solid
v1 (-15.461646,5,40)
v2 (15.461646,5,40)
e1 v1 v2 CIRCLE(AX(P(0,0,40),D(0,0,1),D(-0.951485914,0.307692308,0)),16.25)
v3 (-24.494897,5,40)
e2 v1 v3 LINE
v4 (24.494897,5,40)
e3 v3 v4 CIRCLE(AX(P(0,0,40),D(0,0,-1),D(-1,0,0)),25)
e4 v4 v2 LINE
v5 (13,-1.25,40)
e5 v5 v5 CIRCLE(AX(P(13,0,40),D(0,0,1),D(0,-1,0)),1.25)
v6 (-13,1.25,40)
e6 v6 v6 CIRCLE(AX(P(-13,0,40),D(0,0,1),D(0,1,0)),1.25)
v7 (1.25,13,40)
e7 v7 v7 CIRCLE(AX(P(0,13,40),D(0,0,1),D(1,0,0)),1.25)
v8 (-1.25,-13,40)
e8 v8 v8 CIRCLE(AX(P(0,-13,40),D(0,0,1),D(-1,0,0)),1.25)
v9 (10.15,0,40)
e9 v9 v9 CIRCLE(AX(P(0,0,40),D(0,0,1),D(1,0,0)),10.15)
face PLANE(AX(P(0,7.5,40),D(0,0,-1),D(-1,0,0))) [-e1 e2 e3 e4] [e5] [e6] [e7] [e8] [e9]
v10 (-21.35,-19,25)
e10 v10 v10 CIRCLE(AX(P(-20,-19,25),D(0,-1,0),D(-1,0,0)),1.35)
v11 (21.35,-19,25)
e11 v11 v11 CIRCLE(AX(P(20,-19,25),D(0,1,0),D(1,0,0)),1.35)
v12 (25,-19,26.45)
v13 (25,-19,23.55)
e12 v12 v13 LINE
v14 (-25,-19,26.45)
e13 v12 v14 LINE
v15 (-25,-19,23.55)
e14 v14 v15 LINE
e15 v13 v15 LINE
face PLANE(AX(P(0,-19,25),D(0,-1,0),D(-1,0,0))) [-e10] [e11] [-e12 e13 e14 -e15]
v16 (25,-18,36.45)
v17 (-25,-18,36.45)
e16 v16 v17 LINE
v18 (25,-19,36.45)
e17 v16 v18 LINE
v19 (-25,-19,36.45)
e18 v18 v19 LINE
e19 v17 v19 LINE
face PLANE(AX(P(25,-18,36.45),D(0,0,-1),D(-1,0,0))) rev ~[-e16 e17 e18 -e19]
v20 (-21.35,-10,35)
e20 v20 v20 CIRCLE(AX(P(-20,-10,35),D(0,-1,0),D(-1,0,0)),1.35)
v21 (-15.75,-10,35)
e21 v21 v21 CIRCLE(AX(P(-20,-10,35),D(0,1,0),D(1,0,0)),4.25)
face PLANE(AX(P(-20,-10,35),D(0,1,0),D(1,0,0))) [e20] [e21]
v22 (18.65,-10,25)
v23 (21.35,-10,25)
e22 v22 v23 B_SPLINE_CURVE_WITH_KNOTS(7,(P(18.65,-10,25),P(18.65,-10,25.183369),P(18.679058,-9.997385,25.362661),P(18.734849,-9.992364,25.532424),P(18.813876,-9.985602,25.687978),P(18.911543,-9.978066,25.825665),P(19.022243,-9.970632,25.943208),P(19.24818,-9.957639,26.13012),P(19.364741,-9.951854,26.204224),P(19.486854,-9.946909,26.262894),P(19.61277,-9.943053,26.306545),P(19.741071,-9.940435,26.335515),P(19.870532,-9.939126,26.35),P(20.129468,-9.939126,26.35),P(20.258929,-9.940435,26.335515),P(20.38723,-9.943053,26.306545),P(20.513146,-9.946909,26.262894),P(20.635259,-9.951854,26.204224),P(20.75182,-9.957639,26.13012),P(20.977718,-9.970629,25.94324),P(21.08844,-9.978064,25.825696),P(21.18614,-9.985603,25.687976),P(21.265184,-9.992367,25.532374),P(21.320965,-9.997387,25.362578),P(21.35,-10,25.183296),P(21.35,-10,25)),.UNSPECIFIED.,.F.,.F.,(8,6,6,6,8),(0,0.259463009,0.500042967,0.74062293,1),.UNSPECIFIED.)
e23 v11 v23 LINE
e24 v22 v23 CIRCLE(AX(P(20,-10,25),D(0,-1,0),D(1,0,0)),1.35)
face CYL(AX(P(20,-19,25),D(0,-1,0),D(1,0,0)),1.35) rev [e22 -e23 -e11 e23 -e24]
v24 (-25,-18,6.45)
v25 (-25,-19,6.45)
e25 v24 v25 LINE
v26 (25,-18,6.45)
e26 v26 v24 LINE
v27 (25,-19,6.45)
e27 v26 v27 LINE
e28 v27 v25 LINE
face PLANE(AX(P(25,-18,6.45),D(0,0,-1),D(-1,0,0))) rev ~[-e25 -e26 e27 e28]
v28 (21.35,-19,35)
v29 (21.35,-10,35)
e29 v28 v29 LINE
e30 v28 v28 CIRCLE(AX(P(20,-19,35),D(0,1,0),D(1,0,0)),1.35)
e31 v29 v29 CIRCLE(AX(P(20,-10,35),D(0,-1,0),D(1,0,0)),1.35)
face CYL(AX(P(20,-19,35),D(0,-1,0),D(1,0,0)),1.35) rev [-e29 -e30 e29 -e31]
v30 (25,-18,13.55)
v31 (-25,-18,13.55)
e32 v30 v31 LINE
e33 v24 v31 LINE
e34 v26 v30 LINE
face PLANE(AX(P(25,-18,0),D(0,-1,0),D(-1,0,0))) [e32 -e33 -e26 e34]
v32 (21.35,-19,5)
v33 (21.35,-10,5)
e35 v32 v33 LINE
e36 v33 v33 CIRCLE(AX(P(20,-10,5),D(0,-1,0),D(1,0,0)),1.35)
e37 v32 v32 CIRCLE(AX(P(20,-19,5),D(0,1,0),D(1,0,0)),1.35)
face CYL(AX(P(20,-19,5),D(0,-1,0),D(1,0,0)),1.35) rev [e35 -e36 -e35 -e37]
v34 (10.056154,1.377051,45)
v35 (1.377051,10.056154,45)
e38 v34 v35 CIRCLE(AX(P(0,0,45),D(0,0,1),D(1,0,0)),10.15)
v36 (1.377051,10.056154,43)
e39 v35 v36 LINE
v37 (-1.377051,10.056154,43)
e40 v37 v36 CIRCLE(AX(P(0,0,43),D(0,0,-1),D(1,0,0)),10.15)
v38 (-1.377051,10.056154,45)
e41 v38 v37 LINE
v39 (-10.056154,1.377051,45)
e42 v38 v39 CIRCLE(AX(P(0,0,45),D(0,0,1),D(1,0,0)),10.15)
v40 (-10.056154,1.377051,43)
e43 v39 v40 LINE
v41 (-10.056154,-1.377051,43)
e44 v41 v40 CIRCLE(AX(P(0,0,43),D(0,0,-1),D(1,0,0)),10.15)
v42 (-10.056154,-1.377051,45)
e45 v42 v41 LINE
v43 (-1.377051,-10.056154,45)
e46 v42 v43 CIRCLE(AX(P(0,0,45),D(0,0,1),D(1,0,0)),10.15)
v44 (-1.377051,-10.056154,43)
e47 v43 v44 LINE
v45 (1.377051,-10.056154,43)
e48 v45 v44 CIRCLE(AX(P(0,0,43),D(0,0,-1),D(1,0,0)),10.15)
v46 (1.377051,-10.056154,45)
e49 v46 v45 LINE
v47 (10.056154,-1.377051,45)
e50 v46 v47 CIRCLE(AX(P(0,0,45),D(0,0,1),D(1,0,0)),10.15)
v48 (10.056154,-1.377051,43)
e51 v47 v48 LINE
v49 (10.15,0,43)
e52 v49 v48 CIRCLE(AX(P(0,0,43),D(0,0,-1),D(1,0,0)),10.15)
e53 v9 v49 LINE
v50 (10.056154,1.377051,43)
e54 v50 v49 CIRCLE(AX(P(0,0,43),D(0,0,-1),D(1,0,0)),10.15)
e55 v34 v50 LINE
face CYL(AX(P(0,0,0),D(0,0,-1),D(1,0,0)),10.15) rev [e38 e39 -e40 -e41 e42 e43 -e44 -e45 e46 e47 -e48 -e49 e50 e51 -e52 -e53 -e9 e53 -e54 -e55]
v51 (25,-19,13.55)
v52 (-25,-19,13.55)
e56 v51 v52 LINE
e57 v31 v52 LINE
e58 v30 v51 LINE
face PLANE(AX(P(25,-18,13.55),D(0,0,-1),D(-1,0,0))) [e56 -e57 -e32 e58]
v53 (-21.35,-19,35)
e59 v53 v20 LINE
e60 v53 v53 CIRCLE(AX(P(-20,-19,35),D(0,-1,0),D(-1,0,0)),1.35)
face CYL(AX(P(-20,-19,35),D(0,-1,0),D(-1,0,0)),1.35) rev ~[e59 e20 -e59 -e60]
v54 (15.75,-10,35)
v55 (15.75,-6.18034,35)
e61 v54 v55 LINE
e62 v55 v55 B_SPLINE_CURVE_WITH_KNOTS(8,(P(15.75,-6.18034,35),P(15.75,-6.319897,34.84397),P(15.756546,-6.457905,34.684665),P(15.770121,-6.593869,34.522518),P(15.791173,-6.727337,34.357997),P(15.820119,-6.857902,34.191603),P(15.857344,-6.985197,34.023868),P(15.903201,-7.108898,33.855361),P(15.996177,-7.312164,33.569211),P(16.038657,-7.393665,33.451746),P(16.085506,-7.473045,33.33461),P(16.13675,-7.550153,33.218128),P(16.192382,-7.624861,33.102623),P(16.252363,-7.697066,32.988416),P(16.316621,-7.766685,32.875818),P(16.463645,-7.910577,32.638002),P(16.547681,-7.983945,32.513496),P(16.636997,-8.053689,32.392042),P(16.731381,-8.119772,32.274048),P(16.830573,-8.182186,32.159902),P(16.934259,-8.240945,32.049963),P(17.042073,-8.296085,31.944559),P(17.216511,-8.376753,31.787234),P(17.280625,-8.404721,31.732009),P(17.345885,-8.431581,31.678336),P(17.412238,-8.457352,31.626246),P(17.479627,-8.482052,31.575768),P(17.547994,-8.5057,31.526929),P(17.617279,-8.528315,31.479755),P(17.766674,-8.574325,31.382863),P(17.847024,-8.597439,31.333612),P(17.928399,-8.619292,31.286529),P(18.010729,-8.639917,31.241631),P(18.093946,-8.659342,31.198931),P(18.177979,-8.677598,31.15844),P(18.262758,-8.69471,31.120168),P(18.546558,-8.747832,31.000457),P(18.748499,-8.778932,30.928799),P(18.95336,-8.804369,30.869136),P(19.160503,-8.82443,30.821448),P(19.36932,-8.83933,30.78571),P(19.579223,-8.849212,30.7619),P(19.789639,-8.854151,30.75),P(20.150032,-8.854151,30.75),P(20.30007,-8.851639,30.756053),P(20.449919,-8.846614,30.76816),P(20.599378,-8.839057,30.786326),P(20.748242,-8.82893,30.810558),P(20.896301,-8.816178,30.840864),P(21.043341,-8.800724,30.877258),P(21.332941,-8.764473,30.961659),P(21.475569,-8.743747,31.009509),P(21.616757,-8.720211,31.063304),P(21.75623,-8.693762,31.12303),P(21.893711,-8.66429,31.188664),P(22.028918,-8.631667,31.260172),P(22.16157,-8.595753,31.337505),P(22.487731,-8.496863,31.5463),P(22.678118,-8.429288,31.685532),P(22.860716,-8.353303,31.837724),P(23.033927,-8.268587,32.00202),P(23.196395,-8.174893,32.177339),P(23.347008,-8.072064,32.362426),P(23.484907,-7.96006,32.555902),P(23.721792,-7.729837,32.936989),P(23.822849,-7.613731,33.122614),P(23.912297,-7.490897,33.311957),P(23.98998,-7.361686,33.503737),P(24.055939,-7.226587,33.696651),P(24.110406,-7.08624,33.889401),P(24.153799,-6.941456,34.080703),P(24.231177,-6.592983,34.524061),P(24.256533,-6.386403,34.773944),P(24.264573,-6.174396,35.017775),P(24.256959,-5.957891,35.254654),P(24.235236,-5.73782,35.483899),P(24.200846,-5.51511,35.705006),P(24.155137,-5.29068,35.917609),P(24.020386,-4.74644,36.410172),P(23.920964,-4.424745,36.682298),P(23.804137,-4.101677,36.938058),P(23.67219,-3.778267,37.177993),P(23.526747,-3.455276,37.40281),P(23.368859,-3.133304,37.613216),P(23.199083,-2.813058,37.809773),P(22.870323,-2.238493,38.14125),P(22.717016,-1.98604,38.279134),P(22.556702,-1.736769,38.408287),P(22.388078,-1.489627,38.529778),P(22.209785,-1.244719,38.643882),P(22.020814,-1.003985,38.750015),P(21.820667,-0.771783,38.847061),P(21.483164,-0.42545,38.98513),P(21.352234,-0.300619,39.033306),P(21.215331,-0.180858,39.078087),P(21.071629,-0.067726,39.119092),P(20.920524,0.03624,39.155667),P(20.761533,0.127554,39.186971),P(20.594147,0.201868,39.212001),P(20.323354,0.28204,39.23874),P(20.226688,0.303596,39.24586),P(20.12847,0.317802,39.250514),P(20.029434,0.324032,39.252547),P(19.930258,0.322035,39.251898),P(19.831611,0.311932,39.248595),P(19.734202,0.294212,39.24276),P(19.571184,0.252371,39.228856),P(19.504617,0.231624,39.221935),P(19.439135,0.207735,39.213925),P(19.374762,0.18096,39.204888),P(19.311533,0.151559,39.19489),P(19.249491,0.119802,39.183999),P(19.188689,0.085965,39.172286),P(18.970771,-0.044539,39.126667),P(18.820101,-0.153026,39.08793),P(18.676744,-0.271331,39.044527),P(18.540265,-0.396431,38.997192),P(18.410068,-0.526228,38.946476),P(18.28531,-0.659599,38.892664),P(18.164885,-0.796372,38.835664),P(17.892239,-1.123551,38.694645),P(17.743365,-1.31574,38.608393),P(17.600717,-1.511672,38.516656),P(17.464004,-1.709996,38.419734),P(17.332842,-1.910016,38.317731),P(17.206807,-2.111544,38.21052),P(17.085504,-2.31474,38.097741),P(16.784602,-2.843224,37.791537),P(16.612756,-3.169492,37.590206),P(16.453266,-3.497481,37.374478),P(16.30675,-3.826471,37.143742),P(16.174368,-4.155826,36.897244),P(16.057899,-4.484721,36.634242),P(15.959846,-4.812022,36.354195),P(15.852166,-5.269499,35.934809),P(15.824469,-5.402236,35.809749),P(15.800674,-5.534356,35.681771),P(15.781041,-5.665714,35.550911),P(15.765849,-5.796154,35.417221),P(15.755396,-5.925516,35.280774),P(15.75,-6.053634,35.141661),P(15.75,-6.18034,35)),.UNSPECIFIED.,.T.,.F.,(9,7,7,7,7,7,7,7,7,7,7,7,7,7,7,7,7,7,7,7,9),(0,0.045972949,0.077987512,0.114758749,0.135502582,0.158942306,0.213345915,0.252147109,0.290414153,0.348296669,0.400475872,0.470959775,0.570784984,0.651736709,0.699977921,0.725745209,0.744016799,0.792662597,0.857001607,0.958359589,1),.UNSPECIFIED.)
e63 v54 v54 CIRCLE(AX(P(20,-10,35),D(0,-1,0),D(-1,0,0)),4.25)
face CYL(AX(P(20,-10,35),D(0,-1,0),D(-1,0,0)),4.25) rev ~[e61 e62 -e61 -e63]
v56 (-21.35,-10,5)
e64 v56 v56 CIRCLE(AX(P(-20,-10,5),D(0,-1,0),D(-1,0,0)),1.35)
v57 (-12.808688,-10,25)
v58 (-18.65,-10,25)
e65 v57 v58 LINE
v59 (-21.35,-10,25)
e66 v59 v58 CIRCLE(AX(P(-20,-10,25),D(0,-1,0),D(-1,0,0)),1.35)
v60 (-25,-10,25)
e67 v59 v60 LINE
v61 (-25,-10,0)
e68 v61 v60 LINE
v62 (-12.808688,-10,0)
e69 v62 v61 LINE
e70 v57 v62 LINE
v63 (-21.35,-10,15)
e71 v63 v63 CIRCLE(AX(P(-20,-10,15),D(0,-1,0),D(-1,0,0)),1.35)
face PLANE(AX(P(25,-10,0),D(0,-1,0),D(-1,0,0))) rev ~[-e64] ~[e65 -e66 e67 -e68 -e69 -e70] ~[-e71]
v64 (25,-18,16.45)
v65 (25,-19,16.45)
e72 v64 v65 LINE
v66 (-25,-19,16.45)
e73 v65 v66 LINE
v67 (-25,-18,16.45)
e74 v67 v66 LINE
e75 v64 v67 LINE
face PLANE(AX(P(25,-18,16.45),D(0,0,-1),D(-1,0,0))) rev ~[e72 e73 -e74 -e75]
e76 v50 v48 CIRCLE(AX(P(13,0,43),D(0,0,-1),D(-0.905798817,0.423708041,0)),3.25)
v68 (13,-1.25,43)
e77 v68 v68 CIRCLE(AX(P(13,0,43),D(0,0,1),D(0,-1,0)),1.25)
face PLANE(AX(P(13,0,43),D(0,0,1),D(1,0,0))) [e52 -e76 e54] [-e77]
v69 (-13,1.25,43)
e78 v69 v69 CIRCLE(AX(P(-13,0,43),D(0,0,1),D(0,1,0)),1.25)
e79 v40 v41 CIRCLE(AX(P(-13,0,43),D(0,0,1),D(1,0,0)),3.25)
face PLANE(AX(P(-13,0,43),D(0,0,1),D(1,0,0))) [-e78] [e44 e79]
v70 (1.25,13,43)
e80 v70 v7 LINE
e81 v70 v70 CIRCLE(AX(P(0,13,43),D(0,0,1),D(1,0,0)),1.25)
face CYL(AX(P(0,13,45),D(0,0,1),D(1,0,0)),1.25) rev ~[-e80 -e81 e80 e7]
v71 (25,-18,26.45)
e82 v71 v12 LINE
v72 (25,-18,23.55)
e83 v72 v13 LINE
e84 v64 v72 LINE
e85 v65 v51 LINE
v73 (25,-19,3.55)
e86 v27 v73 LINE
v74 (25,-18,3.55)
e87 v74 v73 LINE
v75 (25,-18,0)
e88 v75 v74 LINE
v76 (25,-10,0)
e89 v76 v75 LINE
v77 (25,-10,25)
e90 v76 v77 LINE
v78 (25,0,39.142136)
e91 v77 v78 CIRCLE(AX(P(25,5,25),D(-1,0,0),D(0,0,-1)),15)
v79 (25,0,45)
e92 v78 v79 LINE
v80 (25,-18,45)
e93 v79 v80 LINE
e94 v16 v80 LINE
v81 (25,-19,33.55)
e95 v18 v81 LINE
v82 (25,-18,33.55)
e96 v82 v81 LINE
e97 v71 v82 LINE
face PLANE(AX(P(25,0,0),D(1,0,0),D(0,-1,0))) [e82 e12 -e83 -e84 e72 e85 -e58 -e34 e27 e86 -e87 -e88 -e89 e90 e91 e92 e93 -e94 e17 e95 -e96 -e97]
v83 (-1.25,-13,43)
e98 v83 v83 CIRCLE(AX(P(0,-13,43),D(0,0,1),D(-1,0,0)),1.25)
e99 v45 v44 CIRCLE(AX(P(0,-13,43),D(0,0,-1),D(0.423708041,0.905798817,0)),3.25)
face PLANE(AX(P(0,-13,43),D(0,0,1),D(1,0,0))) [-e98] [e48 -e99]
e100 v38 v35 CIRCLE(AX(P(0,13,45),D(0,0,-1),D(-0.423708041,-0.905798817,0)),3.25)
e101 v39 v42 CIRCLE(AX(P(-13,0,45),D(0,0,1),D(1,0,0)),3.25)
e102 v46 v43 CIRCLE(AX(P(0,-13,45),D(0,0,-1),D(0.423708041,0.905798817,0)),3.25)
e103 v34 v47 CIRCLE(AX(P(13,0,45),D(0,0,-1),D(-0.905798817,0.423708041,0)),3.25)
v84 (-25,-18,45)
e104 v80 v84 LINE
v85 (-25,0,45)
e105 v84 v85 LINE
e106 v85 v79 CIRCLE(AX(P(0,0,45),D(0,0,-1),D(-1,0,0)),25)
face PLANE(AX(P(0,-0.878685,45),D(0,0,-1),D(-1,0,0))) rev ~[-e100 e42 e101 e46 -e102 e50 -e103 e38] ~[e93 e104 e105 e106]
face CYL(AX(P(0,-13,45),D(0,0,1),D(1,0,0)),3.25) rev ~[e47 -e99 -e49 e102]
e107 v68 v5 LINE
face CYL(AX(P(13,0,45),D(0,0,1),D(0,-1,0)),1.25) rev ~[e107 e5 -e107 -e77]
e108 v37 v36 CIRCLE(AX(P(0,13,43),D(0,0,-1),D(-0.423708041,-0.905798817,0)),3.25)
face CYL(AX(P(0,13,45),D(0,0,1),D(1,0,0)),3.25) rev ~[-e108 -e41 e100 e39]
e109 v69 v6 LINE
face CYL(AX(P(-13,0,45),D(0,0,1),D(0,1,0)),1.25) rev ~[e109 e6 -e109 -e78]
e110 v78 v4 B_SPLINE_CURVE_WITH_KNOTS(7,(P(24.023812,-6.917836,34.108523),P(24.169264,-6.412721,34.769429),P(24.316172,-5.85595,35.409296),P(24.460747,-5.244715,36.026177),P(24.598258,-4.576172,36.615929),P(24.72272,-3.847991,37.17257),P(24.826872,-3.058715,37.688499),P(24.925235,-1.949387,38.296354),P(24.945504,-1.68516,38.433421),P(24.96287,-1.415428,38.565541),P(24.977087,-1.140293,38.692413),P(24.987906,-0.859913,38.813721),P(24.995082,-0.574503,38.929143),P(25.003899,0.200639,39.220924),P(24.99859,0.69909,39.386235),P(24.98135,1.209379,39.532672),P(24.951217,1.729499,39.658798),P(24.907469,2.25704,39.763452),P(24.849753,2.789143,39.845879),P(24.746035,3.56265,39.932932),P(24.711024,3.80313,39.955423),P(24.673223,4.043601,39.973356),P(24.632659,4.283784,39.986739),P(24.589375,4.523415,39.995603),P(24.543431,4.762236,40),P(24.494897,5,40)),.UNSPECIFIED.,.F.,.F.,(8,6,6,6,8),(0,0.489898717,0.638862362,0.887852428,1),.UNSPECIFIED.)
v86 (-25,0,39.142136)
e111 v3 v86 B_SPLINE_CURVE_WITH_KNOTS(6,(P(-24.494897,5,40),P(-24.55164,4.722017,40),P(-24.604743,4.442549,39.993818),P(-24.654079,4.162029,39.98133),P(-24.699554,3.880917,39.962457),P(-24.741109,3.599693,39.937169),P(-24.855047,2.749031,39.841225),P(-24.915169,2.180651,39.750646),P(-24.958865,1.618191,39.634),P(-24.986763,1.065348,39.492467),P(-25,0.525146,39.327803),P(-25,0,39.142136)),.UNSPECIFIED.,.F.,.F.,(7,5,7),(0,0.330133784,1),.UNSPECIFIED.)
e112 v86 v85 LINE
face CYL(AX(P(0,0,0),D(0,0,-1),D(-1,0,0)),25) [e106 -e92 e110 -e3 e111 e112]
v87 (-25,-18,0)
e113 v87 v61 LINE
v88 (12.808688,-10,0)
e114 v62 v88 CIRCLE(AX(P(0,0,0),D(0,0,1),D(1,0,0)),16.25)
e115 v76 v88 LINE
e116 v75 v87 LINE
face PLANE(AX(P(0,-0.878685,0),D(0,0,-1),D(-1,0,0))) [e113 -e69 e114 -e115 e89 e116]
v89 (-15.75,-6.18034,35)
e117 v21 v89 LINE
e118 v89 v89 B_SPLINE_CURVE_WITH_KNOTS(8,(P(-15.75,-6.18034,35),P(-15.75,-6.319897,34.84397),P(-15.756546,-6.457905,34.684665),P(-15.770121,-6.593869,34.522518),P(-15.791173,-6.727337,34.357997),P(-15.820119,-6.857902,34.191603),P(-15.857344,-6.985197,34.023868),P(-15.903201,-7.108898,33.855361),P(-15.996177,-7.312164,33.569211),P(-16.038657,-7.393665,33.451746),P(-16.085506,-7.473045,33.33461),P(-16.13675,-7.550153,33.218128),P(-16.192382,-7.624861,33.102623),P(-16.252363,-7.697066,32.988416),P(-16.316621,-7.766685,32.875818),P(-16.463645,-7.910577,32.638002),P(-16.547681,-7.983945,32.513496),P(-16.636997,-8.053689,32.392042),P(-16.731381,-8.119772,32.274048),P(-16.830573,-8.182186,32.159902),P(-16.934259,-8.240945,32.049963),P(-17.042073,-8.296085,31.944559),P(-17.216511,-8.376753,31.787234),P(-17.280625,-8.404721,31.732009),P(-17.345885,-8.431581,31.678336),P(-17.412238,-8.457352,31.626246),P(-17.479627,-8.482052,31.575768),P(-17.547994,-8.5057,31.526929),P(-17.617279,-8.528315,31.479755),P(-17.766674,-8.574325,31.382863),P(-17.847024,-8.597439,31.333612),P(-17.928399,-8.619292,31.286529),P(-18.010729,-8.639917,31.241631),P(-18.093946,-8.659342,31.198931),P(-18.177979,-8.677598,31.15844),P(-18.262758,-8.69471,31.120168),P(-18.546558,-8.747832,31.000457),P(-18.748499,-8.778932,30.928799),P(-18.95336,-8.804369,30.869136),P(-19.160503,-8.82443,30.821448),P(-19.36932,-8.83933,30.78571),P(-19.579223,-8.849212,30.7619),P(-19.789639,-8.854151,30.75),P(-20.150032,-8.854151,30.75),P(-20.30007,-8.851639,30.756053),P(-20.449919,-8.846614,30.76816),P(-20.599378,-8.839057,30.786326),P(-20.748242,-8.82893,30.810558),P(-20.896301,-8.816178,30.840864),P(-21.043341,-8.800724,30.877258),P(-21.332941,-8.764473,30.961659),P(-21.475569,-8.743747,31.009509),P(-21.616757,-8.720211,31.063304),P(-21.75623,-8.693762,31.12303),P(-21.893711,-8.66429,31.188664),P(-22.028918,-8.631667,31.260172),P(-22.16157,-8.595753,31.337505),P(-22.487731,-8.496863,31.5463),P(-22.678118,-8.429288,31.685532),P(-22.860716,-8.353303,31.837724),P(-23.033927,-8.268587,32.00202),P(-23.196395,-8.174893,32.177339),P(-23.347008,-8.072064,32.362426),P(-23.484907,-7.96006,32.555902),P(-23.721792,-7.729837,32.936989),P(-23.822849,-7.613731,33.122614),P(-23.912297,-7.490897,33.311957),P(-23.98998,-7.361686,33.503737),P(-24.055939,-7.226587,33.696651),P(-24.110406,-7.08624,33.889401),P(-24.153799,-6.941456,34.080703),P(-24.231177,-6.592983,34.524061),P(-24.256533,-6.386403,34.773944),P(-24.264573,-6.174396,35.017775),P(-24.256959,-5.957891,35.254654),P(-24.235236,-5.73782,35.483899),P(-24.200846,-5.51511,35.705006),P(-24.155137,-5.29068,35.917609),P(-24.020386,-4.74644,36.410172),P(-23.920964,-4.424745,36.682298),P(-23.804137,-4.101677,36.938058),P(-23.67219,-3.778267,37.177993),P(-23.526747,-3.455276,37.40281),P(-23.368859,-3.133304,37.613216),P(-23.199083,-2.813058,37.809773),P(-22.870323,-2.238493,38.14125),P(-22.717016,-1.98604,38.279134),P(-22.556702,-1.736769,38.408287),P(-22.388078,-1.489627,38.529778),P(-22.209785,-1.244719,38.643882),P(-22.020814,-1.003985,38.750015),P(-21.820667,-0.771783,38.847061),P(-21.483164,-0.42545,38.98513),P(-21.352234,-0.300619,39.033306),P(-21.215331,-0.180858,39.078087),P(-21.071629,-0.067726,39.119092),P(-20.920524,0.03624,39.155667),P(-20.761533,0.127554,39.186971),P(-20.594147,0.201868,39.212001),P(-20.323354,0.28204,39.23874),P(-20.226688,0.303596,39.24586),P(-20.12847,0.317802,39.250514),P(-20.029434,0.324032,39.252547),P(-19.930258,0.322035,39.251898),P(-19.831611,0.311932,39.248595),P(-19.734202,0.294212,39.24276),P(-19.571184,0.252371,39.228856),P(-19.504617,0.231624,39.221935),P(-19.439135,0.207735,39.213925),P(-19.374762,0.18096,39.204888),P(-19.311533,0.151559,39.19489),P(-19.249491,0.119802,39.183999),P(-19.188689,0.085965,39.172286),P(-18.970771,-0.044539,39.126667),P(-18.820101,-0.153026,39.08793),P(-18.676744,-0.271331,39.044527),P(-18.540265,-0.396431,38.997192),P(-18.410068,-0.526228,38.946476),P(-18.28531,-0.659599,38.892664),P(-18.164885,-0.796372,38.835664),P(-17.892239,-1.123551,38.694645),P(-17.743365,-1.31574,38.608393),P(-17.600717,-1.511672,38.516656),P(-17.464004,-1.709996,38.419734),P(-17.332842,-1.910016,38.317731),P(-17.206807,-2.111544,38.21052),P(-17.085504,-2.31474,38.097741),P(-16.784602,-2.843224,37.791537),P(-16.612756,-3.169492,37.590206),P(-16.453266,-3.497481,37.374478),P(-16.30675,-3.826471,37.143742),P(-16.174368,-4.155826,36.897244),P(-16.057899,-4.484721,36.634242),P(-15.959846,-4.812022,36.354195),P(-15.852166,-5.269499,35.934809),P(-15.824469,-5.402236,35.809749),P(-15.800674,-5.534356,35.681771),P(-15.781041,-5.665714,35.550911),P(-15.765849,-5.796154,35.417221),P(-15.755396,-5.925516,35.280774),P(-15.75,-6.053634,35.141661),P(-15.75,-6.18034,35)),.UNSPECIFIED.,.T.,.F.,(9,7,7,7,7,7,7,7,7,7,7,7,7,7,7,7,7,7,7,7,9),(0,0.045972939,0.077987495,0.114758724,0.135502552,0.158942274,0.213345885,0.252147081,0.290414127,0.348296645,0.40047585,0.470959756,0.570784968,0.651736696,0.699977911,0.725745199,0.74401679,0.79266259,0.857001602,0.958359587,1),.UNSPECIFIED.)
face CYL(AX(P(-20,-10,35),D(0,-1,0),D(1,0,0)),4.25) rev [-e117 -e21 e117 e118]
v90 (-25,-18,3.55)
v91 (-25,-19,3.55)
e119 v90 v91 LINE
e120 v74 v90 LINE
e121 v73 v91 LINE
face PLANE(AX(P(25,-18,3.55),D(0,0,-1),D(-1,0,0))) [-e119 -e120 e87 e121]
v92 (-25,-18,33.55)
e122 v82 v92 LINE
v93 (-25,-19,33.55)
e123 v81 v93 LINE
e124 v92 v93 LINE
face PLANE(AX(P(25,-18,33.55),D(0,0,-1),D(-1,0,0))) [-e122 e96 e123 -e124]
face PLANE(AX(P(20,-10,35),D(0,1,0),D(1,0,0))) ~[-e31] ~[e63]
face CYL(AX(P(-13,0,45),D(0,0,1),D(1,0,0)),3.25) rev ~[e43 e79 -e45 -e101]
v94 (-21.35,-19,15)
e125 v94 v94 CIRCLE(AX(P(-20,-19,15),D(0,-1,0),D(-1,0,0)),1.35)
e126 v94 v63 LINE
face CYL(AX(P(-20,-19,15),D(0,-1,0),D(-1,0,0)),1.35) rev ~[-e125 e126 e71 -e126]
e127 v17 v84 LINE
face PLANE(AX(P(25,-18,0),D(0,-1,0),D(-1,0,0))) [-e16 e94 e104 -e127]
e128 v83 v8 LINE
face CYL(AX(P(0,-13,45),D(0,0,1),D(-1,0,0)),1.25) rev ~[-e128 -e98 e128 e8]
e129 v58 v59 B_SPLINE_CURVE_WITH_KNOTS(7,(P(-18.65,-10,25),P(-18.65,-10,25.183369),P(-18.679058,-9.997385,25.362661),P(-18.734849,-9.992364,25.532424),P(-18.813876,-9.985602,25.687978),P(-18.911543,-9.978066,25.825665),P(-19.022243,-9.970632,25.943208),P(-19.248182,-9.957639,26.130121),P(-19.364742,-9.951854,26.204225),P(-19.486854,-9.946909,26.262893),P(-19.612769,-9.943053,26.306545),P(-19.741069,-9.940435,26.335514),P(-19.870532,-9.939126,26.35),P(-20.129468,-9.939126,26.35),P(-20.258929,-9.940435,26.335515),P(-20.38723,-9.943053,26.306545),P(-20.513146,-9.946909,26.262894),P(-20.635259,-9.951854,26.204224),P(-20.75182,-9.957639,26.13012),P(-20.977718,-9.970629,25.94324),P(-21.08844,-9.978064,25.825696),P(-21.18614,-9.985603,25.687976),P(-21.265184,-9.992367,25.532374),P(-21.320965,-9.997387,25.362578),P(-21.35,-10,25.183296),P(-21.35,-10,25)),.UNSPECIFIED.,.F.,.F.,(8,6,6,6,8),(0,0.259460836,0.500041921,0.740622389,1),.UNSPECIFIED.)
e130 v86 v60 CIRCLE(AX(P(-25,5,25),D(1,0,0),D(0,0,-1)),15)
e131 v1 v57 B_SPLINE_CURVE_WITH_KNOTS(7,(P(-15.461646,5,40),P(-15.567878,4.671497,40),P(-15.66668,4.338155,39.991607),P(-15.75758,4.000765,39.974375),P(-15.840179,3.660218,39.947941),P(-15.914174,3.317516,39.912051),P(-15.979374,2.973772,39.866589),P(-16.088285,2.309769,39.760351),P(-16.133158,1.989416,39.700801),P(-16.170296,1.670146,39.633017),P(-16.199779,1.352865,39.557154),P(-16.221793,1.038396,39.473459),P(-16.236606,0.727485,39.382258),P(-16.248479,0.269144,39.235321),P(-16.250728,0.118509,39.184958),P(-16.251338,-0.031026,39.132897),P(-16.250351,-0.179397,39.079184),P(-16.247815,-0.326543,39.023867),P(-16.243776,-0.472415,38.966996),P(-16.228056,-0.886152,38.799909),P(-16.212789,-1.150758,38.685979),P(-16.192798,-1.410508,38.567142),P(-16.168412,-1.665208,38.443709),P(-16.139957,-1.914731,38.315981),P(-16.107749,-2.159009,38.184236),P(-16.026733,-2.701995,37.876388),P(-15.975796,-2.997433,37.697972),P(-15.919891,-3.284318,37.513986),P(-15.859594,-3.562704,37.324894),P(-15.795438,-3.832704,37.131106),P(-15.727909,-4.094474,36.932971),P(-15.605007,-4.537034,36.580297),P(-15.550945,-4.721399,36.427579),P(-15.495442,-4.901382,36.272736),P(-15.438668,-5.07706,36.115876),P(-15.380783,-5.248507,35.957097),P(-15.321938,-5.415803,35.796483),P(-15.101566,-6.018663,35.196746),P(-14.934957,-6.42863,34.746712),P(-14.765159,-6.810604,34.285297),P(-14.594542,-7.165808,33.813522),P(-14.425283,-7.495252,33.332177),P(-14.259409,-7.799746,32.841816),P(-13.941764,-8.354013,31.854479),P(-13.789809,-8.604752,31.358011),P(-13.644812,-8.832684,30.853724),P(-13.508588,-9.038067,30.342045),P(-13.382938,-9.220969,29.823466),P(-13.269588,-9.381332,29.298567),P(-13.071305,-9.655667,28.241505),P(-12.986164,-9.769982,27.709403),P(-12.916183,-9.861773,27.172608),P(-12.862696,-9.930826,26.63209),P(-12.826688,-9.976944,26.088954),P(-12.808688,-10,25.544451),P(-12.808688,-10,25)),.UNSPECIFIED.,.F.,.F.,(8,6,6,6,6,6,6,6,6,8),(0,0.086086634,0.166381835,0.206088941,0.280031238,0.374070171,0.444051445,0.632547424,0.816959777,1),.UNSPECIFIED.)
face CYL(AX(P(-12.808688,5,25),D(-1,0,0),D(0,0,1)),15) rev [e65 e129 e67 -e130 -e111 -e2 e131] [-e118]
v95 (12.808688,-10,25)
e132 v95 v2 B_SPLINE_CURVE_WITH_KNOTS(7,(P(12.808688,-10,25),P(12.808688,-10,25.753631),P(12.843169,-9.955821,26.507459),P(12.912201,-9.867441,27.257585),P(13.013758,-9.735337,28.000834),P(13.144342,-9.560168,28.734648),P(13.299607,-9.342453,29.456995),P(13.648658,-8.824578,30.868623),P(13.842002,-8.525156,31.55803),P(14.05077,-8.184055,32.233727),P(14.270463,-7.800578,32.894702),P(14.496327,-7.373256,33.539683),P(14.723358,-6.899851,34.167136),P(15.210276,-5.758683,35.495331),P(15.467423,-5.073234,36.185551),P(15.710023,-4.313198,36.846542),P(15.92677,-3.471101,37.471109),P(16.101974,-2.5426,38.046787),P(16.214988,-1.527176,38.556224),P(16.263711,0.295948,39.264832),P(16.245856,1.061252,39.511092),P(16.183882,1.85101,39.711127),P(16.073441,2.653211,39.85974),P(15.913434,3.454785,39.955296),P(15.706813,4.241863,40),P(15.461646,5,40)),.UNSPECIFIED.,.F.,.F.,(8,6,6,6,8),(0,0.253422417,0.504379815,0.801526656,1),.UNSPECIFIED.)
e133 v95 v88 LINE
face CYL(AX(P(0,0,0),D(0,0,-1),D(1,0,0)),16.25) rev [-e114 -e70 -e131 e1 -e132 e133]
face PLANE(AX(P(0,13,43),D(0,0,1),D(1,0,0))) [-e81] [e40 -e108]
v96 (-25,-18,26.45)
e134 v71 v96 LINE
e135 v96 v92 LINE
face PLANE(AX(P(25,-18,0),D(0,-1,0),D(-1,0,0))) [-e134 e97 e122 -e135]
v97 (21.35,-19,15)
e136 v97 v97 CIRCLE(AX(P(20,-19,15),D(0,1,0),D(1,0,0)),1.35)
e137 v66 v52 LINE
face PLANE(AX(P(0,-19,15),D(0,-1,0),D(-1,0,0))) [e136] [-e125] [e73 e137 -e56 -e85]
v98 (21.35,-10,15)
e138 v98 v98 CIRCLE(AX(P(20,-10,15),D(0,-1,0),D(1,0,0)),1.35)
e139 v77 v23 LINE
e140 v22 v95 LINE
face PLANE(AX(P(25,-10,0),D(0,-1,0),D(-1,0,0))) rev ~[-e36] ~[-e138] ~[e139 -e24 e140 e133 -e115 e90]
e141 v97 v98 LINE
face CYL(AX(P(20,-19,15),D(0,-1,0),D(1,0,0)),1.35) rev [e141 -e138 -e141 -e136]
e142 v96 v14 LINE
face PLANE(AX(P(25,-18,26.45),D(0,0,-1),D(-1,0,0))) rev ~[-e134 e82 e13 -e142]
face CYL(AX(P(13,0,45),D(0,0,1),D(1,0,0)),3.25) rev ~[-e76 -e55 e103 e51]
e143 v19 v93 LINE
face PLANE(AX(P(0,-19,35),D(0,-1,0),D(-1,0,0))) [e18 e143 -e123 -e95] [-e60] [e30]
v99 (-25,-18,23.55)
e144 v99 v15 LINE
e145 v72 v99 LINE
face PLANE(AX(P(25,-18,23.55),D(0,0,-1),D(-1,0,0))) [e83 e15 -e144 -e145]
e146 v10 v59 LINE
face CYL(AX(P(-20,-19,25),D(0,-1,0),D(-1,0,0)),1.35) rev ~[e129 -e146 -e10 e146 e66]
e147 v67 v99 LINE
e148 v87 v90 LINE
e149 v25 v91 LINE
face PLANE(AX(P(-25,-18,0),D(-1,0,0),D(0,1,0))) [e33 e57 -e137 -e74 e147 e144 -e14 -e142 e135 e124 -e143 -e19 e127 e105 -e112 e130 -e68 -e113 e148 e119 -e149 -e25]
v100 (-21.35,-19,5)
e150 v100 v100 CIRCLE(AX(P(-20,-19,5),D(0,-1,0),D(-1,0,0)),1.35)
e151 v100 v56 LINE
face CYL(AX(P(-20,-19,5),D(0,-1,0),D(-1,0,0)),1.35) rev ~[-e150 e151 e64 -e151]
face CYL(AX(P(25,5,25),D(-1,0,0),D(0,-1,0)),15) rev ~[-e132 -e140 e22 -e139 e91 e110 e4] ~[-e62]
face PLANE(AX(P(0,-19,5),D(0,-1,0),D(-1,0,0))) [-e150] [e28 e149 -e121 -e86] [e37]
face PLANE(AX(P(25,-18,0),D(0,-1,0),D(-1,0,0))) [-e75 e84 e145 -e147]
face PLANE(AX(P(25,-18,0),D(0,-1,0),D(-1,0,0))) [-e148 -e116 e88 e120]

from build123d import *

# Parameters (mm, degrees)
SKETCH1_R                  = 10.15
MAIN_DEPTH                 = 45
SKETCH3_R                  = 16.25
MOTOREDUCTORMAINHOLE_DEPTH = 40
SKETCH2_R                  = 1.25
FIXHOLEMOTORS_DEPTH        = 10
HOLECIRCULARPATTERN_COUNT  = 4
SKETCH5_R                  = 3.25
HEADSCREWHOLE_DEPTH        = 2
SKETCH4_W                  = 50
SKETCH4_H                  = 35
HORIZONTALCUT_DEPTH        = 40
FILLET3_R                  = 15
SKETCH7_W                  = 50
SKETCH7_H                  = 2.9
MAKERBEAMRAIL_DEPTH        = 1
LPATTERN1_COUNT            = 4
LPATTERN1_PITCH            = 10
SKETCH6_R                  = 1.35
FIXTOPLATEHOLE_DEPTH       = 45.0000001
SKETCH9_R                  = 4.25
CUT_EXTRUDE2_DEPTH         = 36.0000001


with BuildPart() as part:
    # Sketch1 → Main (new body)
    with BuildSketch(Plane.XY):
        with BuildLine():
            Line((-25, -18), (-25, 0))
            ThreePointArc((-25, 0), (0, 25), (25, 0))
            Line((25, 0), (25, -18))
            Line((25, -18), (-25, -18))
        make_face()
        Circle(SKETCH1_R, mode=Mode.SUBTRACT)
    extrude(amount=MAIN_DEPTH)

    # Sketch3 → MotoReductorMainHole (cut)
    with BuildSketch(Plane.XY):
        Circle(SKETCH3_R)
    extrude(amount=MOTOREDUCTORMAINHOLE_DEPTH, mode=Mode.SUBTRACT)

    # Sketch2 → FixHoleMotors (cut)
    with BuildSketch(Plane.XY.offset(45)):
        with Locations((0, 13)):
            Circle(SKETCH2_R)
    fixholemotors = extrude(amount=-FIXHOLEMOTORS_DEPTH, mode=Mode.SUBTRACT)

    # HoleCircularPattern: FixHoleMotors ×4 about axis
    holecircularpattern_axis = Axis((0, 0, 0), (0, 0, 1))
    for i in range(1, HOLECIRCULARPATTERN_COUNT):
        add(fixholemotors.rotate(holecircularpattern_axis, i * 360 / HOLECIRCULARPATTERN_COUNT), mode=Mode.SUBTRACT)

    # Sketch5 → HeadScrewHole (cut)
    with BuildSketch(Plane.XY.offset(45)):
        with Locations((0, 13)):
            Circle(SKETCH5_R)
        with Locations((13, 0)):
            Circle(SKETCH5_R)
        with Locations((0, -13)):
            Circle(SKETCH5_R)
        with Locations((-13, 0)):
            Circle(SKETCH5_R)
    extrude(amount=-HEADSCREWHOLE_DEPTH, mode=Mode.SUBTRACT)

    # Sketch4 → HorizontalCut (cut)
    with BuildSketch(Plane(origin=(0, 0, 0), x_dir=(-1, 0, 0), z_dir=(0, 0, -1))):
        with Locations((0, 7.5)):
            Rectangle(SKETCH4_W, SKETCH4_H)
    extrude(amount=-HORIZONTALCUT_DEPTH, mode=Mode.SUBTRACT)

    # Fillet3
    fillet3_edges = [part.edges().sort_by_distance(p)[0] for p in [
        (-18.904344229, -10, 40),
        (18.904344229, -10, 40),
    ]]
    fillet(fillet3_edges, radius=FILLET3_R)

    # Sketch7 → MakerBeamRail (add)
    with BuildSketch(Plane(origin=(0, -18, 0), x_dir=(-1, 0, 0), z_dir=(0, -1, 0))):
        with Locations((0, -35)):
            Rectangle(SKETCH7_W, SKETCH7_H)
    makerbeamrail = extrude(amount=MAKERBEAMRAIL_DEPTH)

    # LPattern1: MakerBeamRail ×4
    with Locations(*[(0, 0, -i * LPATTERN1_PITCH) for i in range(1, LPATTERN1_COUNT)]):
        add(makerbeamrail)

    # Sketch6 → FixToPlateHole (cut, through all)
    with BuildSketch(Plane(origin=(0, -19, 0), x_dir=(-1, 0, 0), z_dir=(0, -1, 0))):
        with Locations((20, -35)):
            Circle(SKETCH6_R)
        with Locations((20, -15)):
            Circle(SKETCH6_R)
        with Locations((20, -25)):
            Circle(SKETCH6_R)
        with Locations((20, -5)):
            Circle(SKETCH6_R)
    fixtoplatehole = extrude(amount=-FIXTOPLATEHOLE_DEPTH, mode=Mode.SUBTRACT)

    # Sketch9 → Cut-Extrude2 (cut, through all)
    with BuildSketch(Plane(origin=(0, -10, 0), x_dir=(1, 0, 0), z_dir=(0, 1, 0))):
        with Locations((-20, -35)):
            Circle(SKETCH9_R)
    cut_extrude2 = extrude(amount=CUT_EXTRUDE2_DEPTH, mode=Mode.SUBTRACT)

    # Mirror1: FixToPlateHole, Cut-Extrude2 across plane
    add(fixtoplatehole.mirror(Plane(origin=(0, 0, 0), x_dir=(0, 0, 1), z_dir=(1, 0, 0))), mode=Mode.SUBTRACT)
    add(cut_extrude2.mirror(Plane(origin=(0, 0, 0), x_dir=(0, 0, 1), z_dir=(1, 0, 0))), mode=Mode.SUBTRACT)


solid = part.part
